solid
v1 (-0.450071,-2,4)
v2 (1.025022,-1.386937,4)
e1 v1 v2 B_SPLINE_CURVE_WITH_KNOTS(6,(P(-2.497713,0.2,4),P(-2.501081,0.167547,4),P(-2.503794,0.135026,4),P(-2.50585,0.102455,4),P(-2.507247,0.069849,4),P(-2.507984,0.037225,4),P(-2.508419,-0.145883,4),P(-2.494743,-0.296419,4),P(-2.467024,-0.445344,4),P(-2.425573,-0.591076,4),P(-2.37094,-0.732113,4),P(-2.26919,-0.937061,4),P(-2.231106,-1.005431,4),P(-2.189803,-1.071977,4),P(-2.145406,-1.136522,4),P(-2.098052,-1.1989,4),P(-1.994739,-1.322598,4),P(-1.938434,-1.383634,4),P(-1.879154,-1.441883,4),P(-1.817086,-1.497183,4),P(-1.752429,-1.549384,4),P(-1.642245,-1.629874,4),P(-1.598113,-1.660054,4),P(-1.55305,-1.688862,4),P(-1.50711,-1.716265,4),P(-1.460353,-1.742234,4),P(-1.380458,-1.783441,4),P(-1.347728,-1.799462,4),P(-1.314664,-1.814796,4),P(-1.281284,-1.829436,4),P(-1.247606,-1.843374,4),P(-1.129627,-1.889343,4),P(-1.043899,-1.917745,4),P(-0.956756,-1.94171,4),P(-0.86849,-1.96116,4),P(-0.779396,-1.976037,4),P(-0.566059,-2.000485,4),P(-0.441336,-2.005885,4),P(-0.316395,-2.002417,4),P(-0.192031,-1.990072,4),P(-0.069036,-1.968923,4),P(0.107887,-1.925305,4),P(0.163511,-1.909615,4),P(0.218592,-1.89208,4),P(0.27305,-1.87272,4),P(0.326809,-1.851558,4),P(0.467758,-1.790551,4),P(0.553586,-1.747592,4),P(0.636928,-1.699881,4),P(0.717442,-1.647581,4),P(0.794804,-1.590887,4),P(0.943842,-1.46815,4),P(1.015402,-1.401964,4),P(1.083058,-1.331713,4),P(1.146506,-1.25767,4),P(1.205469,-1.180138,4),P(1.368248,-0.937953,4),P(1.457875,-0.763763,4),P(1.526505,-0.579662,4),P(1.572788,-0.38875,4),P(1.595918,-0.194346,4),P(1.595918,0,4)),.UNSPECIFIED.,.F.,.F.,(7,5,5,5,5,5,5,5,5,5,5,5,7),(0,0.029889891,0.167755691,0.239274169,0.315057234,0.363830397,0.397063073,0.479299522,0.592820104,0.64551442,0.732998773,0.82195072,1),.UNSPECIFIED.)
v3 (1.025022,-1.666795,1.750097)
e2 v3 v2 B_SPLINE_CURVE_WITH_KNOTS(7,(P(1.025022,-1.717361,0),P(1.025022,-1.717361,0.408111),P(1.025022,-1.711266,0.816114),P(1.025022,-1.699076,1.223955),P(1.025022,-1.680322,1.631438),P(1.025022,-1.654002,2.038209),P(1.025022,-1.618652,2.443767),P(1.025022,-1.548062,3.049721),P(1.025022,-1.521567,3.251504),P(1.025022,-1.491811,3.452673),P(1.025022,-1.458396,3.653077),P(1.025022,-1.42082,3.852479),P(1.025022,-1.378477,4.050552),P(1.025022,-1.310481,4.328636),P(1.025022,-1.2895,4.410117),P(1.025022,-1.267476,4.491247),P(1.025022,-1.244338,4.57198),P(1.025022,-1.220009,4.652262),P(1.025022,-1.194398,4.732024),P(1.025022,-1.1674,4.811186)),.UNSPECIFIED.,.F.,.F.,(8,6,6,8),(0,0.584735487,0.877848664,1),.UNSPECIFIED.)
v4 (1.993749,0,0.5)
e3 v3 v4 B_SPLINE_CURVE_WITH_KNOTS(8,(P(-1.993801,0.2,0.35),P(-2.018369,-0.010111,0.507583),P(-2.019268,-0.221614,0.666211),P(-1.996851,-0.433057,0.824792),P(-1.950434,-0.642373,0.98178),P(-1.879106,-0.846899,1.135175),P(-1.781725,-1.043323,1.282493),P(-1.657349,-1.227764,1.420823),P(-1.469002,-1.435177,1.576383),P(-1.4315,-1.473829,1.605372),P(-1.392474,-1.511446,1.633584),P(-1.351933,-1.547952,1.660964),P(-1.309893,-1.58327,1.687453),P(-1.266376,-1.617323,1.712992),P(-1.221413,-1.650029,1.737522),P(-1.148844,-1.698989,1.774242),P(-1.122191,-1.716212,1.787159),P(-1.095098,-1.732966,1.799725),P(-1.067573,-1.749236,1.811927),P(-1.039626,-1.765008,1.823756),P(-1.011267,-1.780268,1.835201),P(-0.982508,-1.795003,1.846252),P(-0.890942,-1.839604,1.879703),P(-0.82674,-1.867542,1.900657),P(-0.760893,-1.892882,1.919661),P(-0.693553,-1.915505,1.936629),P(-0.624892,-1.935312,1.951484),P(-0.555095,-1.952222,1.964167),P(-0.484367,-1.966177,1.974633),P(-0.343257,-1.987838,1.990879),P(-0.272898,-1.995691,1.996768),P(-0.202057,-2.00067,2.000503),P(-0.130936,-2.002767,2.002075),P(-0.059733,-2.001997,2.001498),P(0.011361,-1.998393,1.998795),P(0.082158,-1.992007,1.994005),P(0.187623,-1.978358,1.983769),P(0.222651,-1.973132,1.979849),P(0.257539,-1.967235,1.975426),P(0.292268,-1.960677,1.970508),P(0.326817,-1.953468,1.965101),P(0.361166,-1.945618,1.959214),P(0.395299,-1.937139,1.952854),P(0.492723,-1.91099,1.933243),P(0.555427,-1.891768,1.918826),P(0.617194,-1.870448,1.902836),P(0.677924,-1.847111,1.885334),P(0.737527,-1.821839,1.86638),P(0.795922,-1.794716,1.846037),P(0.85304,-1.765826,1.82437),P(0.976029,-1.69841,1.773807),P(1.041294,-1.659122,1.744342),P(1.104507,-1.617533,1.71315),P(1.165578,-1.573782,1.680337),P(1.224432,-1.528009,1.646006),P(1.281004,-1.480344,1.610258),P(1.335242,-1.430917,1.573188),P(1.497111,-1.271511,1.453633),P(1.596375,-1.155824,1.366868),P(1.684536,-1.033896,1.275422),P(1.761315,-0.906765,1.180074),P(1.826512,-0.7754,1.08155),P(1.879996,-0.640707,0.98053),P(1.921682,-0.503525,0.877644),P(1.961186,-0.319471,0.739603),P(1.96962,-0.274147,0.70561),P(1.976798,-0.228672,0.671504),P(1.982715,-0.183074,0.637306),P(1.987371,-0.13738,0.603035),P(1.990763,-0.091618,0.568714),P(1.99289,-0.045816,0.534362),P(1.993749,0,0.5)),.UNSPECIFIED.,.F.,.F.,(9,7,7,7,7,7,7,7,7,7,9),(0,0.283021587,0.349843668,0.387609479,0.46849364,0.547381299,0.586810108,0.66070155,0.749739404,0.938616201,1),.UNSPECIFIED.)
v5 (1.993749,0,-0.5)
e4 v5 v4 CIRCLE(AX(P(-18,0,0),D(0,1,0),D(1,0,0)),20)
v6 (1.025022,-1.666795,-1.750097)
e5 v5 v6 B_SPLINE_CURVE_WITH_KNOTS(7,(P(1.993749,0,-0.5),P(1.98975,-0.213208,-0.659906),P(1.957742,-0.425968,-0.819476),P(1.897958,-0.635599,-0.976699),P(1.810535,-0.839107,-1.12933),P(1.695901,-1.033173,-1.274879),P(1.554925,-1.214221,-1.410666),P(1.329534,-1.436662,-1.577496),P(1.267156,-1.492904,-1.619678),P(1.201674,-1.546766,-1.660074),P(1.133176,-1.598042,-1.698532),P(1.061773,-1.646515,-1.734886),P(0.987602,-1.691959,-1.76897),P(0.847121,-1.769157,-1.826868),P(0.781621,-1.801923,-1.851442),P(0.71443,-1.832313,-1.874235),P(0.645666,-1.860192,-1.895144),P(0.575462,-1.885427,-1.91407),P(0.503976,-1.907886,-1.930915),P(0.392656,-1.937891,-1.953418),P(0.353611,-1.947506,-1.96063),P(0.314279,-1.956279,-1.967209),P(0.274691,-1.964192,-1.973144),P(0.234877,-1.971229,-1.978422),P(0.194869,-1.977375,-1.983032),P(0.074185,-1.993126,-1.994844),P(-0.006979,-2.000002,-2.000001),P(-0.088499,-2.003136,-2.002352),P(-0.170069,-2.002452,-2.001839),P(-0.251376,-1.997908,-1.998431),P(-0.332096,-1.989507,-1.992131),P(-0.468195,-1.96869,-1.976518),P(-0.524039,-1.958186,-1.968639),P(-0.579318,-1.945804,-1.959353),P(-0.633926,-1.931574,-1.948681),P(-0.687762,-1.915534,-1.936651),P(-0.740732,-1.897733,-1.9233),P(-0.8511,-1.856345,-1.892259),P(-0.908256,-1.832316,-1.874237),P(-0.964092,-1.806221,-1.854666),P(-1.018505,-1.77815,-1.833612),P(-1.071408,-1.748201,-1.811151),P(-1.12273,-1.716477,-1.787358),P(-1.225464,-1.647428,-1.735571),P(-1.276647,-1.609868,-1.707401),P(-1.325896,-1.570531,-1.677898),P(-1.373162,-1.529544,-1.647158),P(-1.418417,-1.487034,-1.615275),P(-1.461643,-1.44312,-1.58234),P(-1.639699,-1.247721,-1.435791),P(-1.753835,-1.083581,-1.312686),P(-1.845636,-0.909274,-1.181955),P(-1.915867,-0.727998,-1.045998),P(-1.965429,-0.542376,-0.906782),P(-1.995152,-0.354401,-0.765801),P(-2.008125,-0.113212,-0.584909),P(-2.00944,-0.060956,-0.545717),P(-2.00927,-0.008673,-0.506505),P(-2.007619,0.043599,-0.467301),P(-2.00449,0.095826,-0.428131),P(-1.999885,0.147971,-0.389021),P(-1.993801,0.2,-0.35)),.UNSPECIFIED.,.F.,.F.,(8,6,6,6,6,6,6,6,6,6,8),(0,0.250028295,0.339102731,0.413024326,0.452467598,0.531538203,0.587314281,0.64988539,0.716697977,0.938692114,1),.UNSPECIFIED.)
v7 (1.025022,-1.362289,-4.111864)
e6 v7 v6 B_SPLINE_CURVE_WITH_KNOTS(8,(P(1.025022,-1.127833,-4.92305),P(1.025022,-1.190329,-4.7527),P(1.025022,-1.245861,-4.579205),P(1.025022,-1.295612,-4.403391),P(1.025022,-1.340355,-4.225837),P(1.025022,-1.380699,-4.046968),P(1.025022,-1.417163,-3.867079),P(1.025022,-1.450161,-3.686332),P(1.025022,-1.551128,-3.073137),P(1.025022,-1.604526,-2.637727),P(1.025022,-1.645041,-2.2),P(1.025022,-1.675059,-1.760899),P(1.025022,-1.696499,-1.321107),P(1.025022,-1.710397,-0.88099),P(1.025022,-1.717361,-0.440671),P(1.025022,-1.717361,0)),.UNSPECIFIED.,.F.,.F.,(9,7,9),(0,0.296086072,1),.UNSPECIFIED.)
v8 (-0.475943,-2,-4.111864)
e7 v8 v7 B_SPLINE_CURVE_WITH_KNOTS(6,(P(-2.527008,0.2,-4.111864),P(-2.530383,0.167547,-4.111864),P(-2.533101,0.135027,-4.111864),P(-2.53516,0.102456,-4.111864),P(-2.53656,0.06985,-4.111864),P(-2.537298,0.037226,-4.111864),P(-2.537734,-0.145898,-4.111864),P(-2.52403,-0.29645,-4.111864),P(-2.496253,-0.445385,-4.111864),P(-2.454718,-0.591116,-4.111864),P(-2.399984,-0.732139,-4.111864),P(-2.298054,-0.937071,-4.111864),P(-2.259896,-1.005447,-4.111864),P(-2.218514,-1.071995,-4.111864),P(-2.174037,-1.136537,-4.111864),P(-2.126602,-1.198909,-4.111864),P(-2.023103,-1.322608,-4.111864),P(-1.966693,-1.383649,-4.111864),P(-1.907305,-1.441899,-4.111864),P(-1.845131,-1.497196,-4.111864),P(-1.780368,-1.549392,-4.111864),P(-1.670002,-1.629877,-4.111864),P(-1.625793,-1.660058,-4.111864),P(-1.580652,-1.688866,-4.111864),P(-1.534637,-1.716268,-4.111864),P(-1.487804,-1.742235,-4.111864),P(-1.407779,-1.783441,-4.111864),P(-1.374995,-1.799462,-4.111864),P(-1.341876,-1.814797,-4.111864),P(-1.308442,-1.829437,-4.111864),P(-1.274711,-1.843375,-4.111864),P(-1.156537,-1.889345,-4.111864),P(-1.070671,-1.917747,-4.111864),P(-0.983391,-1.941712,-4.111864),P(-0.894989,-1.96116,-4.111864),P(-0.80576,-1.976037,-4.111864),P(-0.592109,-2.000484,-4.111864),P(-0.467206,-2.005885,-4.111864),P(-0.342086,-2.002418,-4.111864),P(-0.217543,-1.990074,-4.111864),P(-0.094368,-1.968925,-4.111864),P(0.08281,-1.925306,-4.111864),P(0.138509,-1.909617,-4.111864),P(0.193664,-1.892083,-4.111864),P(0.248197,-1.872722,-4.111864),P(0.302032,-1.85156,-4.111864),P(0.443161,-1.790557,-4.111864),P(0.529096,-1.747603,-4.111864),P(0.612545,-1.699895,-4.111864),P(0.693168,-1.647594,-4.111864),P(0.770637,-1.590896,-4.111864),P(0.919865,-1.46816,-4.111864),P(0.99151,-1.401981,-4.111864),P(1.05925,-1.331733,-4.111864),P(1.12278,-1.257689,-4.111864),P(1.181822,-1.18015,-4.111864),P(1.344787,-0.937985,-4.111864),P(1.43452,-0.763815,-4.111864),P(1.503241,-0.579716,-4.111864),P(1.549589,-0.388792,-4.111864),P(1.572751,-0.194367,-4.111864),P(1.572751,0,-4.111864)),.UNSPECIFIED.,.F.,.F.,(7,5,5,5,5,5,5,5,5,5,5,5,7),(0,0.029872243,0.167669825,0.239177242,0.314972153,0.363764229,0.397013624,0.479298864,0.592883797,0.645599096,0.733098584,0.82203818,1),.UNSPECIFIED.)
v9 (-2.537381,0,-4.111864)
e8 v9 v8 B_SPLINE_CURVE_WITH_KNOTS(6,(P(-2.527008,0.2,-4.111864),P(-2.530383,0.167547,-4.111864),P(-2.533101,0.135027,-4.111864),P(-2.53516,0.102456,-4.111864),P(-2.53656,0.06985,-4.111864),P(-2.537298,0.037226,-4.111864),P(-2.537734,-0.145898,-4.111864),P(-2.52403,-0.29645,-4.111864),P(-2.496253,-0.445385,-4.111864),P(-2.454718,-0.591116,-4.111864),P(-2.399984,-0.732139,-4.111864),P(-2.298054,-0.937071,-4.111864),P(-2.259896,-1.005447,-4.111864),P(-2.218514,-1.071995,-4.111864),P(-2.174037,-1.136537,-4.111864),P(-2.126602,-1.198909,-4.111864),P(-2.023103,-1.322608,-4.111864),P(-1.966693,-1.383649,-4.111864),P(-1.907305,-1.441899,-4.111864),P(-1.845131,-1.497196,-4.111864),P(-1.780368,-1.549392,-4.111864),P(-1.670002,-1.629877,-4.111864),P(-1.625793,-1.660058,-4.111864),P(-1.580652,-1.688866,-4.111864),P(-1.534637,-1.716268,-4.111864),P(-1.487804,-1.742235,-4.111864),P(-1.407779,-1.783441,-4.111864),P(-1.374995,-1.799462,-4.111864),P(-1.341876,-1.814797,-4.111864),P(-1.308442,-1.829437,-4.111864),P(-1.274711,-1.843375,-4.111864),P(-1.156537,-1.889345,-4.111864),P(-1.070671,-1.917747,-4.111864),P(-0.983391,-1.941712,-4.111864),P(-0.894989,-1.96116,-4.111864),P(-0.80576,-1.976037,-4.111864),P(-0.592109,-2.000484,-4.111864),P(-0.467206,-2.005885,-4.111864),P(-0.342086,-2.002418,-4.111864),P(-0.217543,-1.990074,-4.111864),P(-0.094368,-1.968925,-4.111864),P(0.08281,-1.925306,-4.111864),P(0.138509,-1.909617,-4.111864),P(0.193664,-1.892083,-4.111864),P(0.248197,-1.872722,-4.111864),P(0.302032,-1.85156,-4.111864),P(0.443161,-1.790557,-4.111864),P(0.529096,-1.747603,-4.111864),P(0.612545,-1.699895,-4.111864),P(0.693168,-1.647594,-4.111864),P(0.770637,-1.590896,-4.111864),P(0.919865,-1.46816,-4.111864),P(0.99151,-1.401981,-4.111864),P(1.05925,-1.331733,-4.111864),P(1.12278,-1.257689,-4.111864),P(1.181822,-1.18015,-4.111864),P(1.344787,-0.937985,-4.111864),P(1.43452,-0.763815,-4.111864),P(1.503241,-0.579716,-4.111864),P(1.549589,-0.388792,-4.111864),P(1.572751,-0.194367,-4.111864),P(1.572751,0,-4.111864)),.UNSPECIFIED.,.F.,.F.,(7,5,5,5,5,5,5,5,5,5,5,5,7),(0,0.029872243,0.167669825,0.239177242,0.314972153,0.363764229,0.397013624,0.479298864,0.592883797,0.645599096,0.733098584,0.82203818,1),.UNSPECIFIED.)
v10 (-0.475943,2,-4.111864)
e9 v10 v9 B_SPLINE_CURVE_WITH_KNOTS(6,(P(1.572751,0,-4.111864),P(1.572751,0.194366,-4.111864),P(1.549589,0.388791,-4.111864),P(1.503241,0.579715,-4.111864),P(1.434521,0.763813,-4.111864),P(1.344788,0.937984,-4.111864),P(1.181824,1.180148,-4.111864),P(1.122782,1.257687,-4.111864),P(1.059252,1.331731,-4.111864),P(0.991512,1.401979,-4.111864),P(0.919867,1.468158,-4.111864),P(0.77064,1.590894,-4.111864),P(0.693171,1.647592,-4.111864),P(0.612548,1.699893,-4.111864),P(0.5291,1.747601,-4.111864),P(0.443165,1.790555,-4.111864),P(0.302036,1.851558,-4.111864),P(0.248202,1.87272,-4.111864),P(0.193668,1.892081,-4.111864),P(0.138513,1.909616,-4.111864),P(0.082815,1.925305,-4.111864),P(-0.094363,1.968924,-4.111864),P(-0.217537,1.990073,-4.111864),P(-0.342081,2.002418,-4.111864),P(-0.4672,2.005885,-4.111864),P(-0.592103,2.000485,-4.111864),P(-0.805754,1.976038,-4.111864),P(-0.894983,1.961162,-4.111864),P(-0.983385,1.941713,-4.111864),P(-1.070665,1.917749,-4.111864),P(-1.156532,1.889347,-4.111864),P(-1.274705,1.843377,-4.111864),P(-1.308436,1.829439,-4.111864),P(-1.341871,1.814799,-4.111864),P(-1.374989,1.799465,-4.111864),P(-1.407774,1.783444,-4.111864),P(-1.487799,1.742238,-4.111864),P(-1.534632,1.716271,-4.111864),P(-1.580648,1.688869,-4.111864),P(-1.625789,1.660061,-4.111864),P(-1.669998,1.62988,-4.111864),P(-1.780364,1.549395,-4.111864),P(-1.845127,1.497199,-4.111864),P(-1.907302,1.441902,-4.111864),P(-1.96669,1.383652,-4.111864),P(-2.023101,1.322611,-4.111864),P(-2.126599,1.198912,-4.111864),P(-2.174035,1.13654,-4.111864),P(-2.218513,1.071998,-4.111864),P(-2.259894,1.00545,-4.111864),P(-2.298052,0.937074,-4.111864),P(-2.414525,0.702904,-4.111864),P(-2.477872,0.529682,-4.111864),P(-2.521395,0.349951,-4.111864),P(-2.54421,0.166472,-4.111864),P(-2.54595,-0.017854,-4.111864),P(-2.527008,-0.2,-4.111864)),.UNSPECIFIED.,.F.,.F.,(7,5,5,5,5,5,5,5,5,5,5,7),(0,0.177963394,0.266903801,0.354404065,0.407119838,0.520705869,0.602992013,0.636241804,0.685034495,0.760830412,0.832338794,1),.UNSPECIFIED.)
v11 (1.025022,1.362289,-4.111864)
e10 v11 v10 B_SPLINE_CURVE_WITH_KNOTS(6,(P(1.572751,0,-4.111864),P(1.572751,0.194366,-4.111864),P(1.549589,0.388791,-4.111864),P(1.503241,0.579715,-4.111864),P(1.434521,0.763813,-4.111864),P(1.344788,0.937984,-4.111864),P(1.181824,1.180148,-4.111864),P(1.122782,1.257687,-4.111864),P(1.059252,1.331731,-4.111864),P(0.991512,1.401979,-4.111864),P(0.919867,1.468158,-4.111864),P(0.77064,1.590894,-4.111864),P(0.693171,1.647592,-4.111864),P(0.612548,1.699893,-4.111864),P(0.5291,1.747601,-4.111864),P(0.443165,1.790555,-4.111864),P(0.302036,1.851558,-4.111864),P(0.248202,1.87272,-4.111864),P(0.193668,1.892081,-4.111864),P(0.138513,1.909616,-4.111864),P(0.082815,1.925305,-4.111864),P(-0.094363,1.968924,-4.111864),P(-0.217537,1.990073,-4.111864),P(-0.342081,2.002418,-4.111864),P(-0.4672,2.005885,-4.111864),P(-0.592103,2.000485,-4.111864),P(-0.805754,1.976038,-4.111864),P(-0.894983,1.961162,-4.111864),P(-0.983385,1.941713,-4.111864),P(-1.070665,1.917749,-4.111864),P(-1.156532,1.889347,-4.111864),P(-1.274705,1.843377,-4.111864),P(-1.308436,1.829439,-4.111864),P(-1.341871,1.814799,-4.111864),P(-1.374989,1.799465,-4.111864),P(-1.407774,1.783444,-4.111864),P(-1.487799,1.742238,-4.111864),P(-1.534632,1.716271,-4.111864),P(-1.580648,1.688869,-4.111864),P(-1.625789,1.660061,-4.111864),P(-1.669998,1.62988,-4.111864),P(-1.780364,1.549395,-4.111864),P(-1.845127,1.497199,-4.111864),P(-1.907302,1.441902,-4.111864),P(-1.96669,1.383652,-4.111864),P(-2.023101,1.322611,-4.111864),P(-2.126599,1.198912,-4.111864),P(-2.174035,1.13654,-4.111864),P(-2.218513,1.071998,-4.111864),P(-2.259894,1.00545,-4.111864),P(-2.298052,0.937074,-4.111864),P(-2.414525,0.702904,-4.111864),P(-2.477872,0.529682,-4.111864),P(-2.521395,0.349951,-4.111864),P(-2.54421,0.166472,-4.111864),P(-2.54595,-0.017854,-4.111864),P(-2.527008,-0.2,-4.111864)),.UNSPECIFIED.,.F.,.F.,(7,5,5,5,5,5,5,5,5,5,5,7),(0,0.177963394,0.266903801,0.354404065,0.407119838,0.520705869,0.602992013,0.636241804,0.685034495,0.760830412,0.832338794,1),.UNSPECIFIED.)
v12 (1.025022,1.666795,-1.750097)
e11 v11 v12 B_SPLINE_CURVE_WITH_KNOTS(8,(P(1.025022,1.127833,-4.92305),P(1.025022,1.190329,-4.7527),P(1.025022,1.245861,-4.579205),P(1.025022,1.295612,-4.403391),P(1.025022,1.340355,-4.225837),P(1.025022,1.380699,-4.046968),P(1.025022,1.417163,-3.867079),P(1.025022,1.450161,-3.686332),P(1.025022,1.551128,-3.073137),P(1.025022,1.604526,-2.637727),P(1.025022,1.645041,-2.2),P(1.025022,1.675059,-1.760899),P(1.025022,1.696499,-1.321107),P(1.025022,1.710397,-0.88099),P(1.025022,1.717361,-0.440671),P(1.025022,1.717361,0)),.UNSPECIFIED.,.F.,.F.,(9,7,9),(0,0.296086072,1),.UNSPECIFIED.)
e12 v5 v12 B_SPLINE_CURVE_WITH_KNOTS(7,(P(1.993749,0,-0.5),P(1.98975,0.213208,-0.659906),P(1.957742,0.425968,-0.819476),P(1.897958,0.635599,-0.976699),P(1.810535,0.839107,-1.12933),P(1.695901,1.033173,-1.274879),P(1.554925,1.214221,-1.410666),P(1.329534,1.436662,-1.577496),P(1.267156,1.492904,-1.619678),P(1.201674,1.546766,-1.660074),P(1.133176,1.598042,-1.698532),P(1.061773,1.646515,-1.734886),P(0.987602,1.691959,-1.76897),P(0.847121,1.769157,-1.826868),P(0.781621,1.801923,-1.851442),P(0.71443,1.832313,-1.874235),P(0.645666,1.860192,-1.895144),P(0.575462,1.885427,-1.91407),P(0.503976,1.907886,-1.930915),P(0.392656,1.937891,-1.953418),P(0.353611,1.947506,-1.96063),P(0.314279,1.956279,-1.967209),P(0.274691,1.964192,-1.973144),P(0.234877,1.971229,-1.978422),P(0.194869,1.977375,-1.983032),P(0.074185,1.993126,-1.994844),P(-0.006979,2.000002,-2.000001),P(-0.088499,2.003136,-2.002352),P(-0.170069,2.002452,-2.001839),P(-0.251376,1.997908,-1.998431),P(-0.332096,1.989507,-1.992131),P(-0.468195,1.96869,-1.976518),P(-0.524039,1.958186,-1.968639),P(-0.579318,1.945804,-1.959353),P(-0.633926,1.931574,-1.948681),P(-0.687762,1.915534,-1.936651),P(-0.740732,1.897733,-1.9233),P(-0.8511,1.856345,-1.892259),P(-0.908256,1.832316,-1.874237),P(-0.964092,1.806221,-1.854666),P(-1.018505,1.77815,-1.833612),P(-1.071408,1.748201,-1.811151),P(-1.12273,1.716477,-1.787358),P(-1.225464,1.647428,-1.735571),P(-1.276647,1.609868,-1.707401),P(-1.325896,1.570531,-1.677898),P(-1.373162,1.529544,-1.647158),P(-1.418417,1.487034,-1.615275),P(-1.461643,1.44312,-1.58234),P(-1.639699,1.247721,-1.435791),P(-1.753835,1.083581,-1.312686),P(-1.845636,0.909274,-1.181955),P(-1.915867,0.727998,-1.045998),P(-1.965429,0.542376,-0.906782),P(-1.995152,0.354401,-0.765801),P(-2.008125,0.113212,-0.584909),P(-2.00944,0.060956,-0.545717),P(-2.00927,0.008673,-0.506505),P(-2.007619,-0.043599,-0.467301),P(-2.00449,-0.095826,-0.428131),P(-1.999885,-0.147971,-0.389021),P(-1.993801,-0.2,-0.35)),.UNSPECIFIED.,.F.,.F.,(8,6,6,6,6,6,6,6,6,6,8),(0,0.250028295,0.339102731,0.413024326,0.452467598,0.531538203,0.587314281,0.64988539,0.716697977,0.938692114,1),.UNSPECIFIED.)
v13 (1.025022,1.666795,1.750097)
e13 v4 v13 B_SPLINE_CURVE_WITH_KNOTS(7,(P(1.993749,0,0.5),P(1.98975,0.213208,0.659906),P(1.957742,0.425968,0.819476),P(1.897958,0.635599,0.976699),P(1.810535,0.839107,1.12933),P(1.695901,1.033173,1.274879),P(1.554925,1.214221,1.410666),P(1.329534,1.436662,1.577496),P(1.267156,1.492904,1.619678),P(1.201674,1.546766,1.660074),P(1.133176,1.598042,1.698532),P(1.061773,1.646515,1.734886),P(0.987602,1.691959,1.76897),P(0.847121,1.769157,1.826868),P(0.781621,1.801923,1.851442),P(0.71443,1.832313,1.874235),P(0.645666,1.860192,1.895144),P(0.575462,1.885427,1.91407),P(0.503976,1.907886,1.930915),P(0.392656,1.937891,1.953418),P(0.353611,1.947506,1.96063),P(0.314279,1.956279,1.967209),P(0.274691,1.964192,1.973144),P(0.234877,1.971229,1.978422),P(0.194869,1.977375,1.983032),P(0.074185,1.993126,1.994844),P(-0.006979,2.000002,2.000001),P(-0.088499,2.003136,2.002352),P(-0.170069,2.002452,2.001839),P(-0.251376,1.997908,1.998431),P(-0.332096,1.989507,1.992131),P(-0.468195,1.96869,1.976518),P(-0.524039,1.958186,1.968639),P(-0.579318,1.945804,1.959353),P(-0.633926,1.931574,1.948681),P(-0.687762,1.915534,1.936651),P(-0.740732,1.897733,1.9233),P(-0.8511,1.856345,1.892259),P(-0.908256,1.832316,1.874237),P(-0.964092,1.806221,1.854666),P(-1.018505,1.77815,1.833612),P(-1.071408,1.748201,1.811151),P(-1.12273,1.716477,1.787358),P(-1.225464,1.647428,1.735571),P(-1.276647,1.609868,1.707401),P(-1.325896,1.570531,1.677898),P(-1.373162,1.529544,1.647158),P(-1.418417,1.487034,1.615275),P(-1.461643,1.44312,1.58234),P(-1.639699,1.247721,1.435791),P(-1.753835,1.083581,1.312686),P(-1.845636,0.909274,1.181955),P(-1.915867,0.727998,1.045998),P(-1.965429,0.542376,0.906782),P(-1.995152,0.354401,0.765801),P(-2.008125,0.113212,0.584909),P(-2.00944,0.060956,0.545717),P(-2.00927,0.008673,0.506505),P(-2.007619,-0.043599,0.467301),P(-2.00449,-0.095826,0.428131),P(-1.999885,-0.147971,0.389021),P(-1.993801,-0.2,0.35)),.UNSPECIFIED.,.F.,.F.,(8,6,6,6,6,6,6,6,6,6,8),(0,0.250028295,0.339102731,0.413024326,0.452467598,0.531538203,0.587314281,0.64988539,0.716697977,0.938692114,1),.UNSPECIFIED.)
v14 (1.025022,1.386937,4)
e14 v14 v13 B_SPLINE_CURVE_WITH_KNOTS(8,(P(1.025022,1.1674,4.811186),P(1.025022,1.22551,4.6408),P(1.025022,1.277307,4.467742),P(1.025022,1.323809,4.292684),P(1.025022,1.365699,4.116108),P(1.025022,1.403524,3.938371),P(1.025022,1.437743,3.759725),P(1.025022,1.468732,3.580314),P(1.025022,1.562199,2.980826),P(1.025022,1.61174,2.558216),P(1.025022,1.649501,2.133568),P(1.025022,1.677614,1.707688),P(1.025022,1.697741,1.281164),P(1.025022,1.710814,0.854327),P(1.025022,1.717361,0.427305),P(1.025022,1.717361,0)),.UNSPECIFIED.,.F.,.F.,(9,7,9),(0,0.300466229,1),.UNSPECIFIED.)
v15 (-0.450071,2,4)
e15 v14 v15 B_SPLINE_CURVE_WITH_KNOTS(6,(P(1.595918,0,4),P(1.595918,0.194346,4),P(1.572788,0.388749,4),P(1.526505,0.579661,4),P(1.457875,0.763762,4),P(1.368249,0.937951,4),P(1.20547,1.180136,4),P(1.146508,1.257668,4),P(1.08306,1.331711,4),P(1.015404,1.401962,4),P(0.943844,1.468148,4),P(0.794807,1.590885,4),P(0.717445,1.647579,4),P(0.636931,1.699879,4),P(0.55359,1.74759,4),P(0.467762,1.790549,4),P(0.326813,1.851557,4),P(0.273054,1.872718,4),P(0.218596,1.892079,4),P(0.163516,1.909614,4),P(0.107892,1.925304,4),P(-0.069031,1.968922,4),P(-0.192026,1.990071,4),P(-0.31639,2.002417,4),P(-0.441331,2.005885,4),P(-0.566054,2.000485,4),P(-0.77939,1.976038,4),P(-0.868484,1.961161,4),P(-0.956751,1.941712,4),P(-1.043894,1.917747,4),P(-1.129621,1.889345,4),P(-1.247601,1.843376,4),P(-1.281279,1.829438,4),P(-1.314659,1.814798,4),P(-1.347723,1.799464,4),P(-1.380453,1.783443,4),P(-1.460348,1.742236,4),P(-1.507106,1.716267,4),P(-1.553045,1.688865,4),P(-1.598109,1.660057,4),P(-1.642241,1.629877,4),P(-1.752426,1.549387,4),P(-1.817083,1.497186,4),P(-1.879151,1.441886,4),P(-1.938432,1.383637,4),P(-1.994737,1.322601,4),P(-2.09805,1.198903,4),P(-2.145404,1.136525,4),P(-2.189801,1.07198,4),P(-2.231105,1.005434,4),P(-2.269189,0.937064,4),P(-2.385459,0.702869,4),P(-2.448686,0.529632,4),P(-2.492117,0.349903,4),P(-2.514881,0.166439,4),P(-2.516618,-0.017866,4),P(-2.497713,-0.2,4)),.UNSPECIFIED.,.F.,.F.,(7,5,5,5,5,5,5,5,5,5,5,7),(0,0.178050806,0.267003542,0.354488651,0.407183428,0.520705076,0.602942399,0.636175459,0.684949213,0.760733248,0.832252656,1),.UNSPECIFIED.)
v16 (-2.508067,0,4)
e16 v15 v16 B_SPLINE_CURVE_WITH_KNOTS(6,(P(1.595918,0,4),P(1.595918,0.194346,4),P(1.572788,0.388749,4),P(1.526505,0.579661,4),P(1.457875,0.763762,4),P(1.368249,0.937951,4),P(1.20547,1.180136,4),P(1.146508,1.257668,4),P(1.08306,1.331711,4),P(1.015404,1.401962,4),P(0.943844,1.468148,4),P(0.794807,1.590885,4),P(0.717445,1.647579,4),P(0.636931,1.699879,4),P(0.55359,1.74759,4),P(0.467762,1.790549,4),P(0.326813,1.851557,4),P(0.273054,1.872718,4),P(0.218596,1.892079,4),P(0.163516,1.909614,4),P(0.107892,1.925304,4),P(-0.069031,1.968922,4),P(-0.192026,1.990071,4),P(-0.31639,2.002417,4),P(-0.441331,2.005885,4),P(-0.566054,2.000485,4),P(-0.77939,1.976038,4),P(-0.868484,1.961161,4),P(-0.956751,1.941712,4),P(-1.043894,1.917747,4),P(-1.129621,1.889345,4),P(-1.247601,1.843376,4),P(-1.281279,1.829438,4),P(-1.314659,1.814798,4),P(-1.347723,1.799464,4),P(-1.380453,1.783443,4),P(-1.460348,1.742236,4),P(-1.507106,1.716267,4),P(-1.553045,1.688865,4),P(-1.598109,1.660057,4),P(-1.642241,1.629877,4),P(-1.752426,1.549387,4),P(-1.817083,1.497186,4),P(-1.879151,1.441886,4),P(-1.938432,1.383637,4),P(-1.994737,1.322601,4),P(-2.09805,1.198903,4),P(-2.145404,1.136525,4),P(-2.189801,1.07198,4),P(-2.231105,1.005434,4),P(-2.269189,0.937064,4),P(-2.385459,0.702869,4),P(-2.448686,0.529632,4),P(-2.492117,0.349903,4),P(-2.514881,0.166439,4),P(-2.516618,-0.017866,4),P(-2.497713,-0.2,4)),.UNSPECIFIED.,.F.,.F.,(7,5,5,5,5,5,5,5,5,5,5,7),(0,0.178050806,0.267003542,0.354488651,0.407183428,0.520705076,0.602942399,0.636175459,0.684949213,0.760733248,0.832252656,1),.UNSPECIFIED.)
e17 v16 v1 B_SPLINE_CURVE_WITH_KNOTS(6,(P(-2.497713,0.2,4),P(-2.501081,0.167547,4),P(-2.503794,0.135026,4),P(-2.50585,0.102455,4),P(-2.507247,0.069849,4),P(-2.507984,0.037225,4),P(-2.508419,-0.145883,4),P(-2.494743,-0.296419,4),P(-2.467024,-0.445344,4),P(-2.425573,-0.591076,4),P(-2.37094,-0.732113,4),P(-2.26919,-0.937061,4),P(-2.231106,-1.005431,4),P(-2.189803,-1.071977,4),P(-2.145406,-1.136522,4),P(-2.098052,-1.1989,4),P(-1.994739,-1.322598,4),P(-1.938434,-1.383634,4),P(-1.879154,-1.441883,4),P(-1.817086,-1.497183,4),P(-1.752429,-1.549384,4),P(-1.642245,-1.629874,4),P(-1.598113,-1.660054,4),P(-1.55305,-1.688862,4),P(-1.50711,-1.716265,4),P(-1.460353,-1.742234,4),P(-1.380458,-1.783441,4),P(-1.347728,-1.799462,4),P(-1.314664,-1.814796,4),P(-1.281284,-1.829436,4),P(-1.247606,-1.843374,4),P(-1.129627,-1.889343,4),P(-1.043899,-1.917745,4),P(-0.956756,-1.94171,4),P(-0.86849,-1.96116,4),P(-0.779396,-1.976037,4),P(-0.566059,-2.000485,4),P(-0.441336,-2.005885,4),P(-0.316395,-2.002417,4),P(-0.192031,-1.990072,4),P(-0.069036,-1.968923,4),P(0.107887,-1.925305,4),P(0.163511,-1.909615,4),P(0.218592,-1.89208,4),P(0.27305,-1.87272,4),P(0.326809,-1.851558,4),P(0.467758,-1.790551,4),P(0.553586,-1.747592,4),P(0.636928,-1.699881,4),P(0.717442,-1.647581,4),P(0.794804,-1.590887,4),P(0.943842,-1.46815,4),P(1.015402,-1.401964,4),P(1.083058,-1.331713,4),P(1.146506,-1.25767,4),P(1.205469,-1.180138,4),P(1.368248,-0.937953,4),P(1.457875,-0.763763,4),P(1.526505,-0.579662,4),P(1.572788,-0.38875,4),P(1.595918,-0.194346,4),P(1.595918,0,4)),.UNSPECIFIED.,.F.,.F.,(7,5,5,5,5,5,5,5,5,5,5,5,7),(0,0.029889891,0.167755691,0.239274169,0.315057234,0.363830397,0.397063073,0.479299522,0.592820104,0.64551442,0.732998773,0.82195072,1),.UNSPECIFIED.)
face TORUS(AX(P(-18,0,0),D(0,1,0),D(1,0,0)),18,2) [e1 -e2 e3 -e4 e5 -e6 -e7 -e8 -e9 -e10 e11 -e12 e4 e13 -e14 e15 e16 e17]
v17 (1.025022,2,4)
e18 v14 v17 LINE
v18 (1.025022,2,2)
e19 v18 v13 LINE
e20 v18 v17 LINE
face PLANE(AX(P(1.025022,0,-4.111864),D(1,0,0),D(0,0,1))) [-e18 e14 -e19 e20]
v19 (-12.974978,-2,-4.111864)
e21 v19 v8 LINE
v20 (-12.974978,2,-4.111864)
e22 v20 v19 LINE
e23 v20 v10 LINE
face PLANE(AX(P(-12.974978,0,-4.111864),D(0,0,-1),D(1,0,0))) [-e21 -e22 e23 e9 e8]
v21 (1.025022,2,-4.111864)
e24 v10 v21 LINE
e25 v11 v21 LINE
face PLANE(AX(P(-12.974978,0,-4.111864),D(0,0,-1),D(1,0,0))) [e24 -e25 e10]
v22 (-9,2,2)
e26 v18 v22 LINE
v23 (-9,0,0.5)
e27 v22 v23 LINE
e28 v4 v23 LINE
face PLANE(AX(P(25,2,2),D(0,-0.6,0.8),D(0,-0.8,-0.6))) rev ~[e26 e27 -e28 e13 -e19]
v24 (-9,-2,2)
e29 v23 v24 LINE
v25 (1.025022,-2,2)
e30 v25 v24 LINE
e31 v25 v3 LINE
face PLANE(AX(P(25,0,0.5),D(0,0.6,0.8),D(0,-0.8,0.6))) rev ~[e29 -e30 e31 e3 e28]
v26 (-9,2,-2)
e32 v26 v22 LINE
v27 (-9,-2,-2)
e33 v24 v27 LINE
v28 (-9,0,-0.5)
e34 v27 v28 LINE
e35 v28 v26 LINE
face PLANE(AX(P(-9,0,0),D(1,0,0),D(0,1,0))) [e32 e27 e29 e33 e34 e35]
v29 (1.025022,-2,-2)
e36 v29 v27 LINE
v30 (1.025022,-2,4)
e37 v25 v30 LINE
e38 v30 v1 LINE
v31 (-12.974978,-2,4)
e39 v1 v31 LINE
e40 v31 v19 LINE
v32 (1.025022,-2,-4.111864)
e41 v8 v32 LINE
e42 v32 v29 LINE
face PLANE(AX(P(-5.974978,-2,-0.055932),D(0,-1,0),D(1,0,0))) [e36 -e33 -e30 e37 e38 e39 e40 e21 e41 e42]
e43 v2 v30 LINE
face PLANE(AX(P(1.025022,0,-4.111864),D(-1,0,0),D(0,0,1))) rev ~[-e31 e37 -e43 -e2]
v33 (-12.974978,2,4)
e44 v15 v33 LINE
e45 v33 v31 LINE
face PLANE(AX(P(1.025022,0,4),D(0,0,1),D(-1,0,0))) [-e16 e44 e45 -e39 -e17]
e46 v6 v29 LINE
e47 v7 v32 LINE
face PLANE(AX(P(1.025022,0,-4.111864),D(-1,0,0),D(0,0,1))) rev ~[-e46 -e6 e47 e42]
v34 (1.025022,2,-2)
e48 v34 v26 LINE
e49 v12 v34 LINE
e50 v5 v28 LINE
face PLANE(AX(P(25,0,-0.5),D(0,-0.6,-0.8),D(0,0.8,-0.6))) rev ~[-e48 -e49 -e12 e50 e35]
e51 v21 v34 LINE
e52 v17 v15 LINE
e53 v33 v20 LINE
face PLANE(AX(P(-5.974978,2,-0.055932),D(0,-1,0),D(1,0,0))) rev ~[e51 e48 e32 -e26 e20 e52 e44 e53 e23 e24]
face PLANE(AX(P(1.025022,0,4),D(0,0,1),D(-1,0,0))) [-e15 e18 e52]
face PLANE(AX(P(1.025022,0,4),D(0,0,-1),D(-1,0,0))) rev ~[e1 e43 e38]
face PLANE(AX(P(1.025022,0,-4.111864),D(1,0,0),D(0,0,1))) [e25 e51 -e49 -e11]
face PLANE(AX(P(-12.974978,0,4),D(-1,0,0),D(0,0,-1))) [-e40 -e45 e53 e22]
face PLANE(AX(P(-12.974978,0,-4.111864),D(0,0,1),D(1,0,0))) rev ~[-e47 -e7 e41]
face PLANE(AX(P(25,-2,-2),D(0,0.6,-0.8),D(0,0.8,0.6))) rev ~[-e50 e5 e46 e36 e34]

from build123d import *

# Parameters (mm, degrees)
F0_R          = 2
F3_DEPTH      = 2
F3_DEPTH_BACK = 2
F6_DEPTH      = 34


with BuildPart() as f1:
    # F0 (on Top) → F1 (revolve)
    with BuildSketch(Plane.XY):
        Circle(F0_R)
    revolve(axis=Axis((-18, 1.301999, 0), (0, 1, 0)))

    # F2 (on Front) → F3 (join, two sides)
    with BuildSketch(Plane.XZ) as f3_sk:
        Polygon((1.025022, 4), (-12.974978, 4), (-12.974978, -4), (-12.974978, -4.111864), (1.025022, -4.111864), align=None)
    extrude(amount=F3_DEPTH)
    extrude(f3_sk.sketch, amount=-F3_DEPTH_BACK)

    # F5 (on offset) → F6 (cut)
    with BuildSketch(Plane.YZ.offset(25)):
        Polygon((0, 0.5), (-2, 2), (-2, -2), (0, -0.5), (2, -2), (2, 2), align=None)
    extrude(amount=-F6_DEPTH, mode=Mode.SUBTRACT)


solid = f1.part
